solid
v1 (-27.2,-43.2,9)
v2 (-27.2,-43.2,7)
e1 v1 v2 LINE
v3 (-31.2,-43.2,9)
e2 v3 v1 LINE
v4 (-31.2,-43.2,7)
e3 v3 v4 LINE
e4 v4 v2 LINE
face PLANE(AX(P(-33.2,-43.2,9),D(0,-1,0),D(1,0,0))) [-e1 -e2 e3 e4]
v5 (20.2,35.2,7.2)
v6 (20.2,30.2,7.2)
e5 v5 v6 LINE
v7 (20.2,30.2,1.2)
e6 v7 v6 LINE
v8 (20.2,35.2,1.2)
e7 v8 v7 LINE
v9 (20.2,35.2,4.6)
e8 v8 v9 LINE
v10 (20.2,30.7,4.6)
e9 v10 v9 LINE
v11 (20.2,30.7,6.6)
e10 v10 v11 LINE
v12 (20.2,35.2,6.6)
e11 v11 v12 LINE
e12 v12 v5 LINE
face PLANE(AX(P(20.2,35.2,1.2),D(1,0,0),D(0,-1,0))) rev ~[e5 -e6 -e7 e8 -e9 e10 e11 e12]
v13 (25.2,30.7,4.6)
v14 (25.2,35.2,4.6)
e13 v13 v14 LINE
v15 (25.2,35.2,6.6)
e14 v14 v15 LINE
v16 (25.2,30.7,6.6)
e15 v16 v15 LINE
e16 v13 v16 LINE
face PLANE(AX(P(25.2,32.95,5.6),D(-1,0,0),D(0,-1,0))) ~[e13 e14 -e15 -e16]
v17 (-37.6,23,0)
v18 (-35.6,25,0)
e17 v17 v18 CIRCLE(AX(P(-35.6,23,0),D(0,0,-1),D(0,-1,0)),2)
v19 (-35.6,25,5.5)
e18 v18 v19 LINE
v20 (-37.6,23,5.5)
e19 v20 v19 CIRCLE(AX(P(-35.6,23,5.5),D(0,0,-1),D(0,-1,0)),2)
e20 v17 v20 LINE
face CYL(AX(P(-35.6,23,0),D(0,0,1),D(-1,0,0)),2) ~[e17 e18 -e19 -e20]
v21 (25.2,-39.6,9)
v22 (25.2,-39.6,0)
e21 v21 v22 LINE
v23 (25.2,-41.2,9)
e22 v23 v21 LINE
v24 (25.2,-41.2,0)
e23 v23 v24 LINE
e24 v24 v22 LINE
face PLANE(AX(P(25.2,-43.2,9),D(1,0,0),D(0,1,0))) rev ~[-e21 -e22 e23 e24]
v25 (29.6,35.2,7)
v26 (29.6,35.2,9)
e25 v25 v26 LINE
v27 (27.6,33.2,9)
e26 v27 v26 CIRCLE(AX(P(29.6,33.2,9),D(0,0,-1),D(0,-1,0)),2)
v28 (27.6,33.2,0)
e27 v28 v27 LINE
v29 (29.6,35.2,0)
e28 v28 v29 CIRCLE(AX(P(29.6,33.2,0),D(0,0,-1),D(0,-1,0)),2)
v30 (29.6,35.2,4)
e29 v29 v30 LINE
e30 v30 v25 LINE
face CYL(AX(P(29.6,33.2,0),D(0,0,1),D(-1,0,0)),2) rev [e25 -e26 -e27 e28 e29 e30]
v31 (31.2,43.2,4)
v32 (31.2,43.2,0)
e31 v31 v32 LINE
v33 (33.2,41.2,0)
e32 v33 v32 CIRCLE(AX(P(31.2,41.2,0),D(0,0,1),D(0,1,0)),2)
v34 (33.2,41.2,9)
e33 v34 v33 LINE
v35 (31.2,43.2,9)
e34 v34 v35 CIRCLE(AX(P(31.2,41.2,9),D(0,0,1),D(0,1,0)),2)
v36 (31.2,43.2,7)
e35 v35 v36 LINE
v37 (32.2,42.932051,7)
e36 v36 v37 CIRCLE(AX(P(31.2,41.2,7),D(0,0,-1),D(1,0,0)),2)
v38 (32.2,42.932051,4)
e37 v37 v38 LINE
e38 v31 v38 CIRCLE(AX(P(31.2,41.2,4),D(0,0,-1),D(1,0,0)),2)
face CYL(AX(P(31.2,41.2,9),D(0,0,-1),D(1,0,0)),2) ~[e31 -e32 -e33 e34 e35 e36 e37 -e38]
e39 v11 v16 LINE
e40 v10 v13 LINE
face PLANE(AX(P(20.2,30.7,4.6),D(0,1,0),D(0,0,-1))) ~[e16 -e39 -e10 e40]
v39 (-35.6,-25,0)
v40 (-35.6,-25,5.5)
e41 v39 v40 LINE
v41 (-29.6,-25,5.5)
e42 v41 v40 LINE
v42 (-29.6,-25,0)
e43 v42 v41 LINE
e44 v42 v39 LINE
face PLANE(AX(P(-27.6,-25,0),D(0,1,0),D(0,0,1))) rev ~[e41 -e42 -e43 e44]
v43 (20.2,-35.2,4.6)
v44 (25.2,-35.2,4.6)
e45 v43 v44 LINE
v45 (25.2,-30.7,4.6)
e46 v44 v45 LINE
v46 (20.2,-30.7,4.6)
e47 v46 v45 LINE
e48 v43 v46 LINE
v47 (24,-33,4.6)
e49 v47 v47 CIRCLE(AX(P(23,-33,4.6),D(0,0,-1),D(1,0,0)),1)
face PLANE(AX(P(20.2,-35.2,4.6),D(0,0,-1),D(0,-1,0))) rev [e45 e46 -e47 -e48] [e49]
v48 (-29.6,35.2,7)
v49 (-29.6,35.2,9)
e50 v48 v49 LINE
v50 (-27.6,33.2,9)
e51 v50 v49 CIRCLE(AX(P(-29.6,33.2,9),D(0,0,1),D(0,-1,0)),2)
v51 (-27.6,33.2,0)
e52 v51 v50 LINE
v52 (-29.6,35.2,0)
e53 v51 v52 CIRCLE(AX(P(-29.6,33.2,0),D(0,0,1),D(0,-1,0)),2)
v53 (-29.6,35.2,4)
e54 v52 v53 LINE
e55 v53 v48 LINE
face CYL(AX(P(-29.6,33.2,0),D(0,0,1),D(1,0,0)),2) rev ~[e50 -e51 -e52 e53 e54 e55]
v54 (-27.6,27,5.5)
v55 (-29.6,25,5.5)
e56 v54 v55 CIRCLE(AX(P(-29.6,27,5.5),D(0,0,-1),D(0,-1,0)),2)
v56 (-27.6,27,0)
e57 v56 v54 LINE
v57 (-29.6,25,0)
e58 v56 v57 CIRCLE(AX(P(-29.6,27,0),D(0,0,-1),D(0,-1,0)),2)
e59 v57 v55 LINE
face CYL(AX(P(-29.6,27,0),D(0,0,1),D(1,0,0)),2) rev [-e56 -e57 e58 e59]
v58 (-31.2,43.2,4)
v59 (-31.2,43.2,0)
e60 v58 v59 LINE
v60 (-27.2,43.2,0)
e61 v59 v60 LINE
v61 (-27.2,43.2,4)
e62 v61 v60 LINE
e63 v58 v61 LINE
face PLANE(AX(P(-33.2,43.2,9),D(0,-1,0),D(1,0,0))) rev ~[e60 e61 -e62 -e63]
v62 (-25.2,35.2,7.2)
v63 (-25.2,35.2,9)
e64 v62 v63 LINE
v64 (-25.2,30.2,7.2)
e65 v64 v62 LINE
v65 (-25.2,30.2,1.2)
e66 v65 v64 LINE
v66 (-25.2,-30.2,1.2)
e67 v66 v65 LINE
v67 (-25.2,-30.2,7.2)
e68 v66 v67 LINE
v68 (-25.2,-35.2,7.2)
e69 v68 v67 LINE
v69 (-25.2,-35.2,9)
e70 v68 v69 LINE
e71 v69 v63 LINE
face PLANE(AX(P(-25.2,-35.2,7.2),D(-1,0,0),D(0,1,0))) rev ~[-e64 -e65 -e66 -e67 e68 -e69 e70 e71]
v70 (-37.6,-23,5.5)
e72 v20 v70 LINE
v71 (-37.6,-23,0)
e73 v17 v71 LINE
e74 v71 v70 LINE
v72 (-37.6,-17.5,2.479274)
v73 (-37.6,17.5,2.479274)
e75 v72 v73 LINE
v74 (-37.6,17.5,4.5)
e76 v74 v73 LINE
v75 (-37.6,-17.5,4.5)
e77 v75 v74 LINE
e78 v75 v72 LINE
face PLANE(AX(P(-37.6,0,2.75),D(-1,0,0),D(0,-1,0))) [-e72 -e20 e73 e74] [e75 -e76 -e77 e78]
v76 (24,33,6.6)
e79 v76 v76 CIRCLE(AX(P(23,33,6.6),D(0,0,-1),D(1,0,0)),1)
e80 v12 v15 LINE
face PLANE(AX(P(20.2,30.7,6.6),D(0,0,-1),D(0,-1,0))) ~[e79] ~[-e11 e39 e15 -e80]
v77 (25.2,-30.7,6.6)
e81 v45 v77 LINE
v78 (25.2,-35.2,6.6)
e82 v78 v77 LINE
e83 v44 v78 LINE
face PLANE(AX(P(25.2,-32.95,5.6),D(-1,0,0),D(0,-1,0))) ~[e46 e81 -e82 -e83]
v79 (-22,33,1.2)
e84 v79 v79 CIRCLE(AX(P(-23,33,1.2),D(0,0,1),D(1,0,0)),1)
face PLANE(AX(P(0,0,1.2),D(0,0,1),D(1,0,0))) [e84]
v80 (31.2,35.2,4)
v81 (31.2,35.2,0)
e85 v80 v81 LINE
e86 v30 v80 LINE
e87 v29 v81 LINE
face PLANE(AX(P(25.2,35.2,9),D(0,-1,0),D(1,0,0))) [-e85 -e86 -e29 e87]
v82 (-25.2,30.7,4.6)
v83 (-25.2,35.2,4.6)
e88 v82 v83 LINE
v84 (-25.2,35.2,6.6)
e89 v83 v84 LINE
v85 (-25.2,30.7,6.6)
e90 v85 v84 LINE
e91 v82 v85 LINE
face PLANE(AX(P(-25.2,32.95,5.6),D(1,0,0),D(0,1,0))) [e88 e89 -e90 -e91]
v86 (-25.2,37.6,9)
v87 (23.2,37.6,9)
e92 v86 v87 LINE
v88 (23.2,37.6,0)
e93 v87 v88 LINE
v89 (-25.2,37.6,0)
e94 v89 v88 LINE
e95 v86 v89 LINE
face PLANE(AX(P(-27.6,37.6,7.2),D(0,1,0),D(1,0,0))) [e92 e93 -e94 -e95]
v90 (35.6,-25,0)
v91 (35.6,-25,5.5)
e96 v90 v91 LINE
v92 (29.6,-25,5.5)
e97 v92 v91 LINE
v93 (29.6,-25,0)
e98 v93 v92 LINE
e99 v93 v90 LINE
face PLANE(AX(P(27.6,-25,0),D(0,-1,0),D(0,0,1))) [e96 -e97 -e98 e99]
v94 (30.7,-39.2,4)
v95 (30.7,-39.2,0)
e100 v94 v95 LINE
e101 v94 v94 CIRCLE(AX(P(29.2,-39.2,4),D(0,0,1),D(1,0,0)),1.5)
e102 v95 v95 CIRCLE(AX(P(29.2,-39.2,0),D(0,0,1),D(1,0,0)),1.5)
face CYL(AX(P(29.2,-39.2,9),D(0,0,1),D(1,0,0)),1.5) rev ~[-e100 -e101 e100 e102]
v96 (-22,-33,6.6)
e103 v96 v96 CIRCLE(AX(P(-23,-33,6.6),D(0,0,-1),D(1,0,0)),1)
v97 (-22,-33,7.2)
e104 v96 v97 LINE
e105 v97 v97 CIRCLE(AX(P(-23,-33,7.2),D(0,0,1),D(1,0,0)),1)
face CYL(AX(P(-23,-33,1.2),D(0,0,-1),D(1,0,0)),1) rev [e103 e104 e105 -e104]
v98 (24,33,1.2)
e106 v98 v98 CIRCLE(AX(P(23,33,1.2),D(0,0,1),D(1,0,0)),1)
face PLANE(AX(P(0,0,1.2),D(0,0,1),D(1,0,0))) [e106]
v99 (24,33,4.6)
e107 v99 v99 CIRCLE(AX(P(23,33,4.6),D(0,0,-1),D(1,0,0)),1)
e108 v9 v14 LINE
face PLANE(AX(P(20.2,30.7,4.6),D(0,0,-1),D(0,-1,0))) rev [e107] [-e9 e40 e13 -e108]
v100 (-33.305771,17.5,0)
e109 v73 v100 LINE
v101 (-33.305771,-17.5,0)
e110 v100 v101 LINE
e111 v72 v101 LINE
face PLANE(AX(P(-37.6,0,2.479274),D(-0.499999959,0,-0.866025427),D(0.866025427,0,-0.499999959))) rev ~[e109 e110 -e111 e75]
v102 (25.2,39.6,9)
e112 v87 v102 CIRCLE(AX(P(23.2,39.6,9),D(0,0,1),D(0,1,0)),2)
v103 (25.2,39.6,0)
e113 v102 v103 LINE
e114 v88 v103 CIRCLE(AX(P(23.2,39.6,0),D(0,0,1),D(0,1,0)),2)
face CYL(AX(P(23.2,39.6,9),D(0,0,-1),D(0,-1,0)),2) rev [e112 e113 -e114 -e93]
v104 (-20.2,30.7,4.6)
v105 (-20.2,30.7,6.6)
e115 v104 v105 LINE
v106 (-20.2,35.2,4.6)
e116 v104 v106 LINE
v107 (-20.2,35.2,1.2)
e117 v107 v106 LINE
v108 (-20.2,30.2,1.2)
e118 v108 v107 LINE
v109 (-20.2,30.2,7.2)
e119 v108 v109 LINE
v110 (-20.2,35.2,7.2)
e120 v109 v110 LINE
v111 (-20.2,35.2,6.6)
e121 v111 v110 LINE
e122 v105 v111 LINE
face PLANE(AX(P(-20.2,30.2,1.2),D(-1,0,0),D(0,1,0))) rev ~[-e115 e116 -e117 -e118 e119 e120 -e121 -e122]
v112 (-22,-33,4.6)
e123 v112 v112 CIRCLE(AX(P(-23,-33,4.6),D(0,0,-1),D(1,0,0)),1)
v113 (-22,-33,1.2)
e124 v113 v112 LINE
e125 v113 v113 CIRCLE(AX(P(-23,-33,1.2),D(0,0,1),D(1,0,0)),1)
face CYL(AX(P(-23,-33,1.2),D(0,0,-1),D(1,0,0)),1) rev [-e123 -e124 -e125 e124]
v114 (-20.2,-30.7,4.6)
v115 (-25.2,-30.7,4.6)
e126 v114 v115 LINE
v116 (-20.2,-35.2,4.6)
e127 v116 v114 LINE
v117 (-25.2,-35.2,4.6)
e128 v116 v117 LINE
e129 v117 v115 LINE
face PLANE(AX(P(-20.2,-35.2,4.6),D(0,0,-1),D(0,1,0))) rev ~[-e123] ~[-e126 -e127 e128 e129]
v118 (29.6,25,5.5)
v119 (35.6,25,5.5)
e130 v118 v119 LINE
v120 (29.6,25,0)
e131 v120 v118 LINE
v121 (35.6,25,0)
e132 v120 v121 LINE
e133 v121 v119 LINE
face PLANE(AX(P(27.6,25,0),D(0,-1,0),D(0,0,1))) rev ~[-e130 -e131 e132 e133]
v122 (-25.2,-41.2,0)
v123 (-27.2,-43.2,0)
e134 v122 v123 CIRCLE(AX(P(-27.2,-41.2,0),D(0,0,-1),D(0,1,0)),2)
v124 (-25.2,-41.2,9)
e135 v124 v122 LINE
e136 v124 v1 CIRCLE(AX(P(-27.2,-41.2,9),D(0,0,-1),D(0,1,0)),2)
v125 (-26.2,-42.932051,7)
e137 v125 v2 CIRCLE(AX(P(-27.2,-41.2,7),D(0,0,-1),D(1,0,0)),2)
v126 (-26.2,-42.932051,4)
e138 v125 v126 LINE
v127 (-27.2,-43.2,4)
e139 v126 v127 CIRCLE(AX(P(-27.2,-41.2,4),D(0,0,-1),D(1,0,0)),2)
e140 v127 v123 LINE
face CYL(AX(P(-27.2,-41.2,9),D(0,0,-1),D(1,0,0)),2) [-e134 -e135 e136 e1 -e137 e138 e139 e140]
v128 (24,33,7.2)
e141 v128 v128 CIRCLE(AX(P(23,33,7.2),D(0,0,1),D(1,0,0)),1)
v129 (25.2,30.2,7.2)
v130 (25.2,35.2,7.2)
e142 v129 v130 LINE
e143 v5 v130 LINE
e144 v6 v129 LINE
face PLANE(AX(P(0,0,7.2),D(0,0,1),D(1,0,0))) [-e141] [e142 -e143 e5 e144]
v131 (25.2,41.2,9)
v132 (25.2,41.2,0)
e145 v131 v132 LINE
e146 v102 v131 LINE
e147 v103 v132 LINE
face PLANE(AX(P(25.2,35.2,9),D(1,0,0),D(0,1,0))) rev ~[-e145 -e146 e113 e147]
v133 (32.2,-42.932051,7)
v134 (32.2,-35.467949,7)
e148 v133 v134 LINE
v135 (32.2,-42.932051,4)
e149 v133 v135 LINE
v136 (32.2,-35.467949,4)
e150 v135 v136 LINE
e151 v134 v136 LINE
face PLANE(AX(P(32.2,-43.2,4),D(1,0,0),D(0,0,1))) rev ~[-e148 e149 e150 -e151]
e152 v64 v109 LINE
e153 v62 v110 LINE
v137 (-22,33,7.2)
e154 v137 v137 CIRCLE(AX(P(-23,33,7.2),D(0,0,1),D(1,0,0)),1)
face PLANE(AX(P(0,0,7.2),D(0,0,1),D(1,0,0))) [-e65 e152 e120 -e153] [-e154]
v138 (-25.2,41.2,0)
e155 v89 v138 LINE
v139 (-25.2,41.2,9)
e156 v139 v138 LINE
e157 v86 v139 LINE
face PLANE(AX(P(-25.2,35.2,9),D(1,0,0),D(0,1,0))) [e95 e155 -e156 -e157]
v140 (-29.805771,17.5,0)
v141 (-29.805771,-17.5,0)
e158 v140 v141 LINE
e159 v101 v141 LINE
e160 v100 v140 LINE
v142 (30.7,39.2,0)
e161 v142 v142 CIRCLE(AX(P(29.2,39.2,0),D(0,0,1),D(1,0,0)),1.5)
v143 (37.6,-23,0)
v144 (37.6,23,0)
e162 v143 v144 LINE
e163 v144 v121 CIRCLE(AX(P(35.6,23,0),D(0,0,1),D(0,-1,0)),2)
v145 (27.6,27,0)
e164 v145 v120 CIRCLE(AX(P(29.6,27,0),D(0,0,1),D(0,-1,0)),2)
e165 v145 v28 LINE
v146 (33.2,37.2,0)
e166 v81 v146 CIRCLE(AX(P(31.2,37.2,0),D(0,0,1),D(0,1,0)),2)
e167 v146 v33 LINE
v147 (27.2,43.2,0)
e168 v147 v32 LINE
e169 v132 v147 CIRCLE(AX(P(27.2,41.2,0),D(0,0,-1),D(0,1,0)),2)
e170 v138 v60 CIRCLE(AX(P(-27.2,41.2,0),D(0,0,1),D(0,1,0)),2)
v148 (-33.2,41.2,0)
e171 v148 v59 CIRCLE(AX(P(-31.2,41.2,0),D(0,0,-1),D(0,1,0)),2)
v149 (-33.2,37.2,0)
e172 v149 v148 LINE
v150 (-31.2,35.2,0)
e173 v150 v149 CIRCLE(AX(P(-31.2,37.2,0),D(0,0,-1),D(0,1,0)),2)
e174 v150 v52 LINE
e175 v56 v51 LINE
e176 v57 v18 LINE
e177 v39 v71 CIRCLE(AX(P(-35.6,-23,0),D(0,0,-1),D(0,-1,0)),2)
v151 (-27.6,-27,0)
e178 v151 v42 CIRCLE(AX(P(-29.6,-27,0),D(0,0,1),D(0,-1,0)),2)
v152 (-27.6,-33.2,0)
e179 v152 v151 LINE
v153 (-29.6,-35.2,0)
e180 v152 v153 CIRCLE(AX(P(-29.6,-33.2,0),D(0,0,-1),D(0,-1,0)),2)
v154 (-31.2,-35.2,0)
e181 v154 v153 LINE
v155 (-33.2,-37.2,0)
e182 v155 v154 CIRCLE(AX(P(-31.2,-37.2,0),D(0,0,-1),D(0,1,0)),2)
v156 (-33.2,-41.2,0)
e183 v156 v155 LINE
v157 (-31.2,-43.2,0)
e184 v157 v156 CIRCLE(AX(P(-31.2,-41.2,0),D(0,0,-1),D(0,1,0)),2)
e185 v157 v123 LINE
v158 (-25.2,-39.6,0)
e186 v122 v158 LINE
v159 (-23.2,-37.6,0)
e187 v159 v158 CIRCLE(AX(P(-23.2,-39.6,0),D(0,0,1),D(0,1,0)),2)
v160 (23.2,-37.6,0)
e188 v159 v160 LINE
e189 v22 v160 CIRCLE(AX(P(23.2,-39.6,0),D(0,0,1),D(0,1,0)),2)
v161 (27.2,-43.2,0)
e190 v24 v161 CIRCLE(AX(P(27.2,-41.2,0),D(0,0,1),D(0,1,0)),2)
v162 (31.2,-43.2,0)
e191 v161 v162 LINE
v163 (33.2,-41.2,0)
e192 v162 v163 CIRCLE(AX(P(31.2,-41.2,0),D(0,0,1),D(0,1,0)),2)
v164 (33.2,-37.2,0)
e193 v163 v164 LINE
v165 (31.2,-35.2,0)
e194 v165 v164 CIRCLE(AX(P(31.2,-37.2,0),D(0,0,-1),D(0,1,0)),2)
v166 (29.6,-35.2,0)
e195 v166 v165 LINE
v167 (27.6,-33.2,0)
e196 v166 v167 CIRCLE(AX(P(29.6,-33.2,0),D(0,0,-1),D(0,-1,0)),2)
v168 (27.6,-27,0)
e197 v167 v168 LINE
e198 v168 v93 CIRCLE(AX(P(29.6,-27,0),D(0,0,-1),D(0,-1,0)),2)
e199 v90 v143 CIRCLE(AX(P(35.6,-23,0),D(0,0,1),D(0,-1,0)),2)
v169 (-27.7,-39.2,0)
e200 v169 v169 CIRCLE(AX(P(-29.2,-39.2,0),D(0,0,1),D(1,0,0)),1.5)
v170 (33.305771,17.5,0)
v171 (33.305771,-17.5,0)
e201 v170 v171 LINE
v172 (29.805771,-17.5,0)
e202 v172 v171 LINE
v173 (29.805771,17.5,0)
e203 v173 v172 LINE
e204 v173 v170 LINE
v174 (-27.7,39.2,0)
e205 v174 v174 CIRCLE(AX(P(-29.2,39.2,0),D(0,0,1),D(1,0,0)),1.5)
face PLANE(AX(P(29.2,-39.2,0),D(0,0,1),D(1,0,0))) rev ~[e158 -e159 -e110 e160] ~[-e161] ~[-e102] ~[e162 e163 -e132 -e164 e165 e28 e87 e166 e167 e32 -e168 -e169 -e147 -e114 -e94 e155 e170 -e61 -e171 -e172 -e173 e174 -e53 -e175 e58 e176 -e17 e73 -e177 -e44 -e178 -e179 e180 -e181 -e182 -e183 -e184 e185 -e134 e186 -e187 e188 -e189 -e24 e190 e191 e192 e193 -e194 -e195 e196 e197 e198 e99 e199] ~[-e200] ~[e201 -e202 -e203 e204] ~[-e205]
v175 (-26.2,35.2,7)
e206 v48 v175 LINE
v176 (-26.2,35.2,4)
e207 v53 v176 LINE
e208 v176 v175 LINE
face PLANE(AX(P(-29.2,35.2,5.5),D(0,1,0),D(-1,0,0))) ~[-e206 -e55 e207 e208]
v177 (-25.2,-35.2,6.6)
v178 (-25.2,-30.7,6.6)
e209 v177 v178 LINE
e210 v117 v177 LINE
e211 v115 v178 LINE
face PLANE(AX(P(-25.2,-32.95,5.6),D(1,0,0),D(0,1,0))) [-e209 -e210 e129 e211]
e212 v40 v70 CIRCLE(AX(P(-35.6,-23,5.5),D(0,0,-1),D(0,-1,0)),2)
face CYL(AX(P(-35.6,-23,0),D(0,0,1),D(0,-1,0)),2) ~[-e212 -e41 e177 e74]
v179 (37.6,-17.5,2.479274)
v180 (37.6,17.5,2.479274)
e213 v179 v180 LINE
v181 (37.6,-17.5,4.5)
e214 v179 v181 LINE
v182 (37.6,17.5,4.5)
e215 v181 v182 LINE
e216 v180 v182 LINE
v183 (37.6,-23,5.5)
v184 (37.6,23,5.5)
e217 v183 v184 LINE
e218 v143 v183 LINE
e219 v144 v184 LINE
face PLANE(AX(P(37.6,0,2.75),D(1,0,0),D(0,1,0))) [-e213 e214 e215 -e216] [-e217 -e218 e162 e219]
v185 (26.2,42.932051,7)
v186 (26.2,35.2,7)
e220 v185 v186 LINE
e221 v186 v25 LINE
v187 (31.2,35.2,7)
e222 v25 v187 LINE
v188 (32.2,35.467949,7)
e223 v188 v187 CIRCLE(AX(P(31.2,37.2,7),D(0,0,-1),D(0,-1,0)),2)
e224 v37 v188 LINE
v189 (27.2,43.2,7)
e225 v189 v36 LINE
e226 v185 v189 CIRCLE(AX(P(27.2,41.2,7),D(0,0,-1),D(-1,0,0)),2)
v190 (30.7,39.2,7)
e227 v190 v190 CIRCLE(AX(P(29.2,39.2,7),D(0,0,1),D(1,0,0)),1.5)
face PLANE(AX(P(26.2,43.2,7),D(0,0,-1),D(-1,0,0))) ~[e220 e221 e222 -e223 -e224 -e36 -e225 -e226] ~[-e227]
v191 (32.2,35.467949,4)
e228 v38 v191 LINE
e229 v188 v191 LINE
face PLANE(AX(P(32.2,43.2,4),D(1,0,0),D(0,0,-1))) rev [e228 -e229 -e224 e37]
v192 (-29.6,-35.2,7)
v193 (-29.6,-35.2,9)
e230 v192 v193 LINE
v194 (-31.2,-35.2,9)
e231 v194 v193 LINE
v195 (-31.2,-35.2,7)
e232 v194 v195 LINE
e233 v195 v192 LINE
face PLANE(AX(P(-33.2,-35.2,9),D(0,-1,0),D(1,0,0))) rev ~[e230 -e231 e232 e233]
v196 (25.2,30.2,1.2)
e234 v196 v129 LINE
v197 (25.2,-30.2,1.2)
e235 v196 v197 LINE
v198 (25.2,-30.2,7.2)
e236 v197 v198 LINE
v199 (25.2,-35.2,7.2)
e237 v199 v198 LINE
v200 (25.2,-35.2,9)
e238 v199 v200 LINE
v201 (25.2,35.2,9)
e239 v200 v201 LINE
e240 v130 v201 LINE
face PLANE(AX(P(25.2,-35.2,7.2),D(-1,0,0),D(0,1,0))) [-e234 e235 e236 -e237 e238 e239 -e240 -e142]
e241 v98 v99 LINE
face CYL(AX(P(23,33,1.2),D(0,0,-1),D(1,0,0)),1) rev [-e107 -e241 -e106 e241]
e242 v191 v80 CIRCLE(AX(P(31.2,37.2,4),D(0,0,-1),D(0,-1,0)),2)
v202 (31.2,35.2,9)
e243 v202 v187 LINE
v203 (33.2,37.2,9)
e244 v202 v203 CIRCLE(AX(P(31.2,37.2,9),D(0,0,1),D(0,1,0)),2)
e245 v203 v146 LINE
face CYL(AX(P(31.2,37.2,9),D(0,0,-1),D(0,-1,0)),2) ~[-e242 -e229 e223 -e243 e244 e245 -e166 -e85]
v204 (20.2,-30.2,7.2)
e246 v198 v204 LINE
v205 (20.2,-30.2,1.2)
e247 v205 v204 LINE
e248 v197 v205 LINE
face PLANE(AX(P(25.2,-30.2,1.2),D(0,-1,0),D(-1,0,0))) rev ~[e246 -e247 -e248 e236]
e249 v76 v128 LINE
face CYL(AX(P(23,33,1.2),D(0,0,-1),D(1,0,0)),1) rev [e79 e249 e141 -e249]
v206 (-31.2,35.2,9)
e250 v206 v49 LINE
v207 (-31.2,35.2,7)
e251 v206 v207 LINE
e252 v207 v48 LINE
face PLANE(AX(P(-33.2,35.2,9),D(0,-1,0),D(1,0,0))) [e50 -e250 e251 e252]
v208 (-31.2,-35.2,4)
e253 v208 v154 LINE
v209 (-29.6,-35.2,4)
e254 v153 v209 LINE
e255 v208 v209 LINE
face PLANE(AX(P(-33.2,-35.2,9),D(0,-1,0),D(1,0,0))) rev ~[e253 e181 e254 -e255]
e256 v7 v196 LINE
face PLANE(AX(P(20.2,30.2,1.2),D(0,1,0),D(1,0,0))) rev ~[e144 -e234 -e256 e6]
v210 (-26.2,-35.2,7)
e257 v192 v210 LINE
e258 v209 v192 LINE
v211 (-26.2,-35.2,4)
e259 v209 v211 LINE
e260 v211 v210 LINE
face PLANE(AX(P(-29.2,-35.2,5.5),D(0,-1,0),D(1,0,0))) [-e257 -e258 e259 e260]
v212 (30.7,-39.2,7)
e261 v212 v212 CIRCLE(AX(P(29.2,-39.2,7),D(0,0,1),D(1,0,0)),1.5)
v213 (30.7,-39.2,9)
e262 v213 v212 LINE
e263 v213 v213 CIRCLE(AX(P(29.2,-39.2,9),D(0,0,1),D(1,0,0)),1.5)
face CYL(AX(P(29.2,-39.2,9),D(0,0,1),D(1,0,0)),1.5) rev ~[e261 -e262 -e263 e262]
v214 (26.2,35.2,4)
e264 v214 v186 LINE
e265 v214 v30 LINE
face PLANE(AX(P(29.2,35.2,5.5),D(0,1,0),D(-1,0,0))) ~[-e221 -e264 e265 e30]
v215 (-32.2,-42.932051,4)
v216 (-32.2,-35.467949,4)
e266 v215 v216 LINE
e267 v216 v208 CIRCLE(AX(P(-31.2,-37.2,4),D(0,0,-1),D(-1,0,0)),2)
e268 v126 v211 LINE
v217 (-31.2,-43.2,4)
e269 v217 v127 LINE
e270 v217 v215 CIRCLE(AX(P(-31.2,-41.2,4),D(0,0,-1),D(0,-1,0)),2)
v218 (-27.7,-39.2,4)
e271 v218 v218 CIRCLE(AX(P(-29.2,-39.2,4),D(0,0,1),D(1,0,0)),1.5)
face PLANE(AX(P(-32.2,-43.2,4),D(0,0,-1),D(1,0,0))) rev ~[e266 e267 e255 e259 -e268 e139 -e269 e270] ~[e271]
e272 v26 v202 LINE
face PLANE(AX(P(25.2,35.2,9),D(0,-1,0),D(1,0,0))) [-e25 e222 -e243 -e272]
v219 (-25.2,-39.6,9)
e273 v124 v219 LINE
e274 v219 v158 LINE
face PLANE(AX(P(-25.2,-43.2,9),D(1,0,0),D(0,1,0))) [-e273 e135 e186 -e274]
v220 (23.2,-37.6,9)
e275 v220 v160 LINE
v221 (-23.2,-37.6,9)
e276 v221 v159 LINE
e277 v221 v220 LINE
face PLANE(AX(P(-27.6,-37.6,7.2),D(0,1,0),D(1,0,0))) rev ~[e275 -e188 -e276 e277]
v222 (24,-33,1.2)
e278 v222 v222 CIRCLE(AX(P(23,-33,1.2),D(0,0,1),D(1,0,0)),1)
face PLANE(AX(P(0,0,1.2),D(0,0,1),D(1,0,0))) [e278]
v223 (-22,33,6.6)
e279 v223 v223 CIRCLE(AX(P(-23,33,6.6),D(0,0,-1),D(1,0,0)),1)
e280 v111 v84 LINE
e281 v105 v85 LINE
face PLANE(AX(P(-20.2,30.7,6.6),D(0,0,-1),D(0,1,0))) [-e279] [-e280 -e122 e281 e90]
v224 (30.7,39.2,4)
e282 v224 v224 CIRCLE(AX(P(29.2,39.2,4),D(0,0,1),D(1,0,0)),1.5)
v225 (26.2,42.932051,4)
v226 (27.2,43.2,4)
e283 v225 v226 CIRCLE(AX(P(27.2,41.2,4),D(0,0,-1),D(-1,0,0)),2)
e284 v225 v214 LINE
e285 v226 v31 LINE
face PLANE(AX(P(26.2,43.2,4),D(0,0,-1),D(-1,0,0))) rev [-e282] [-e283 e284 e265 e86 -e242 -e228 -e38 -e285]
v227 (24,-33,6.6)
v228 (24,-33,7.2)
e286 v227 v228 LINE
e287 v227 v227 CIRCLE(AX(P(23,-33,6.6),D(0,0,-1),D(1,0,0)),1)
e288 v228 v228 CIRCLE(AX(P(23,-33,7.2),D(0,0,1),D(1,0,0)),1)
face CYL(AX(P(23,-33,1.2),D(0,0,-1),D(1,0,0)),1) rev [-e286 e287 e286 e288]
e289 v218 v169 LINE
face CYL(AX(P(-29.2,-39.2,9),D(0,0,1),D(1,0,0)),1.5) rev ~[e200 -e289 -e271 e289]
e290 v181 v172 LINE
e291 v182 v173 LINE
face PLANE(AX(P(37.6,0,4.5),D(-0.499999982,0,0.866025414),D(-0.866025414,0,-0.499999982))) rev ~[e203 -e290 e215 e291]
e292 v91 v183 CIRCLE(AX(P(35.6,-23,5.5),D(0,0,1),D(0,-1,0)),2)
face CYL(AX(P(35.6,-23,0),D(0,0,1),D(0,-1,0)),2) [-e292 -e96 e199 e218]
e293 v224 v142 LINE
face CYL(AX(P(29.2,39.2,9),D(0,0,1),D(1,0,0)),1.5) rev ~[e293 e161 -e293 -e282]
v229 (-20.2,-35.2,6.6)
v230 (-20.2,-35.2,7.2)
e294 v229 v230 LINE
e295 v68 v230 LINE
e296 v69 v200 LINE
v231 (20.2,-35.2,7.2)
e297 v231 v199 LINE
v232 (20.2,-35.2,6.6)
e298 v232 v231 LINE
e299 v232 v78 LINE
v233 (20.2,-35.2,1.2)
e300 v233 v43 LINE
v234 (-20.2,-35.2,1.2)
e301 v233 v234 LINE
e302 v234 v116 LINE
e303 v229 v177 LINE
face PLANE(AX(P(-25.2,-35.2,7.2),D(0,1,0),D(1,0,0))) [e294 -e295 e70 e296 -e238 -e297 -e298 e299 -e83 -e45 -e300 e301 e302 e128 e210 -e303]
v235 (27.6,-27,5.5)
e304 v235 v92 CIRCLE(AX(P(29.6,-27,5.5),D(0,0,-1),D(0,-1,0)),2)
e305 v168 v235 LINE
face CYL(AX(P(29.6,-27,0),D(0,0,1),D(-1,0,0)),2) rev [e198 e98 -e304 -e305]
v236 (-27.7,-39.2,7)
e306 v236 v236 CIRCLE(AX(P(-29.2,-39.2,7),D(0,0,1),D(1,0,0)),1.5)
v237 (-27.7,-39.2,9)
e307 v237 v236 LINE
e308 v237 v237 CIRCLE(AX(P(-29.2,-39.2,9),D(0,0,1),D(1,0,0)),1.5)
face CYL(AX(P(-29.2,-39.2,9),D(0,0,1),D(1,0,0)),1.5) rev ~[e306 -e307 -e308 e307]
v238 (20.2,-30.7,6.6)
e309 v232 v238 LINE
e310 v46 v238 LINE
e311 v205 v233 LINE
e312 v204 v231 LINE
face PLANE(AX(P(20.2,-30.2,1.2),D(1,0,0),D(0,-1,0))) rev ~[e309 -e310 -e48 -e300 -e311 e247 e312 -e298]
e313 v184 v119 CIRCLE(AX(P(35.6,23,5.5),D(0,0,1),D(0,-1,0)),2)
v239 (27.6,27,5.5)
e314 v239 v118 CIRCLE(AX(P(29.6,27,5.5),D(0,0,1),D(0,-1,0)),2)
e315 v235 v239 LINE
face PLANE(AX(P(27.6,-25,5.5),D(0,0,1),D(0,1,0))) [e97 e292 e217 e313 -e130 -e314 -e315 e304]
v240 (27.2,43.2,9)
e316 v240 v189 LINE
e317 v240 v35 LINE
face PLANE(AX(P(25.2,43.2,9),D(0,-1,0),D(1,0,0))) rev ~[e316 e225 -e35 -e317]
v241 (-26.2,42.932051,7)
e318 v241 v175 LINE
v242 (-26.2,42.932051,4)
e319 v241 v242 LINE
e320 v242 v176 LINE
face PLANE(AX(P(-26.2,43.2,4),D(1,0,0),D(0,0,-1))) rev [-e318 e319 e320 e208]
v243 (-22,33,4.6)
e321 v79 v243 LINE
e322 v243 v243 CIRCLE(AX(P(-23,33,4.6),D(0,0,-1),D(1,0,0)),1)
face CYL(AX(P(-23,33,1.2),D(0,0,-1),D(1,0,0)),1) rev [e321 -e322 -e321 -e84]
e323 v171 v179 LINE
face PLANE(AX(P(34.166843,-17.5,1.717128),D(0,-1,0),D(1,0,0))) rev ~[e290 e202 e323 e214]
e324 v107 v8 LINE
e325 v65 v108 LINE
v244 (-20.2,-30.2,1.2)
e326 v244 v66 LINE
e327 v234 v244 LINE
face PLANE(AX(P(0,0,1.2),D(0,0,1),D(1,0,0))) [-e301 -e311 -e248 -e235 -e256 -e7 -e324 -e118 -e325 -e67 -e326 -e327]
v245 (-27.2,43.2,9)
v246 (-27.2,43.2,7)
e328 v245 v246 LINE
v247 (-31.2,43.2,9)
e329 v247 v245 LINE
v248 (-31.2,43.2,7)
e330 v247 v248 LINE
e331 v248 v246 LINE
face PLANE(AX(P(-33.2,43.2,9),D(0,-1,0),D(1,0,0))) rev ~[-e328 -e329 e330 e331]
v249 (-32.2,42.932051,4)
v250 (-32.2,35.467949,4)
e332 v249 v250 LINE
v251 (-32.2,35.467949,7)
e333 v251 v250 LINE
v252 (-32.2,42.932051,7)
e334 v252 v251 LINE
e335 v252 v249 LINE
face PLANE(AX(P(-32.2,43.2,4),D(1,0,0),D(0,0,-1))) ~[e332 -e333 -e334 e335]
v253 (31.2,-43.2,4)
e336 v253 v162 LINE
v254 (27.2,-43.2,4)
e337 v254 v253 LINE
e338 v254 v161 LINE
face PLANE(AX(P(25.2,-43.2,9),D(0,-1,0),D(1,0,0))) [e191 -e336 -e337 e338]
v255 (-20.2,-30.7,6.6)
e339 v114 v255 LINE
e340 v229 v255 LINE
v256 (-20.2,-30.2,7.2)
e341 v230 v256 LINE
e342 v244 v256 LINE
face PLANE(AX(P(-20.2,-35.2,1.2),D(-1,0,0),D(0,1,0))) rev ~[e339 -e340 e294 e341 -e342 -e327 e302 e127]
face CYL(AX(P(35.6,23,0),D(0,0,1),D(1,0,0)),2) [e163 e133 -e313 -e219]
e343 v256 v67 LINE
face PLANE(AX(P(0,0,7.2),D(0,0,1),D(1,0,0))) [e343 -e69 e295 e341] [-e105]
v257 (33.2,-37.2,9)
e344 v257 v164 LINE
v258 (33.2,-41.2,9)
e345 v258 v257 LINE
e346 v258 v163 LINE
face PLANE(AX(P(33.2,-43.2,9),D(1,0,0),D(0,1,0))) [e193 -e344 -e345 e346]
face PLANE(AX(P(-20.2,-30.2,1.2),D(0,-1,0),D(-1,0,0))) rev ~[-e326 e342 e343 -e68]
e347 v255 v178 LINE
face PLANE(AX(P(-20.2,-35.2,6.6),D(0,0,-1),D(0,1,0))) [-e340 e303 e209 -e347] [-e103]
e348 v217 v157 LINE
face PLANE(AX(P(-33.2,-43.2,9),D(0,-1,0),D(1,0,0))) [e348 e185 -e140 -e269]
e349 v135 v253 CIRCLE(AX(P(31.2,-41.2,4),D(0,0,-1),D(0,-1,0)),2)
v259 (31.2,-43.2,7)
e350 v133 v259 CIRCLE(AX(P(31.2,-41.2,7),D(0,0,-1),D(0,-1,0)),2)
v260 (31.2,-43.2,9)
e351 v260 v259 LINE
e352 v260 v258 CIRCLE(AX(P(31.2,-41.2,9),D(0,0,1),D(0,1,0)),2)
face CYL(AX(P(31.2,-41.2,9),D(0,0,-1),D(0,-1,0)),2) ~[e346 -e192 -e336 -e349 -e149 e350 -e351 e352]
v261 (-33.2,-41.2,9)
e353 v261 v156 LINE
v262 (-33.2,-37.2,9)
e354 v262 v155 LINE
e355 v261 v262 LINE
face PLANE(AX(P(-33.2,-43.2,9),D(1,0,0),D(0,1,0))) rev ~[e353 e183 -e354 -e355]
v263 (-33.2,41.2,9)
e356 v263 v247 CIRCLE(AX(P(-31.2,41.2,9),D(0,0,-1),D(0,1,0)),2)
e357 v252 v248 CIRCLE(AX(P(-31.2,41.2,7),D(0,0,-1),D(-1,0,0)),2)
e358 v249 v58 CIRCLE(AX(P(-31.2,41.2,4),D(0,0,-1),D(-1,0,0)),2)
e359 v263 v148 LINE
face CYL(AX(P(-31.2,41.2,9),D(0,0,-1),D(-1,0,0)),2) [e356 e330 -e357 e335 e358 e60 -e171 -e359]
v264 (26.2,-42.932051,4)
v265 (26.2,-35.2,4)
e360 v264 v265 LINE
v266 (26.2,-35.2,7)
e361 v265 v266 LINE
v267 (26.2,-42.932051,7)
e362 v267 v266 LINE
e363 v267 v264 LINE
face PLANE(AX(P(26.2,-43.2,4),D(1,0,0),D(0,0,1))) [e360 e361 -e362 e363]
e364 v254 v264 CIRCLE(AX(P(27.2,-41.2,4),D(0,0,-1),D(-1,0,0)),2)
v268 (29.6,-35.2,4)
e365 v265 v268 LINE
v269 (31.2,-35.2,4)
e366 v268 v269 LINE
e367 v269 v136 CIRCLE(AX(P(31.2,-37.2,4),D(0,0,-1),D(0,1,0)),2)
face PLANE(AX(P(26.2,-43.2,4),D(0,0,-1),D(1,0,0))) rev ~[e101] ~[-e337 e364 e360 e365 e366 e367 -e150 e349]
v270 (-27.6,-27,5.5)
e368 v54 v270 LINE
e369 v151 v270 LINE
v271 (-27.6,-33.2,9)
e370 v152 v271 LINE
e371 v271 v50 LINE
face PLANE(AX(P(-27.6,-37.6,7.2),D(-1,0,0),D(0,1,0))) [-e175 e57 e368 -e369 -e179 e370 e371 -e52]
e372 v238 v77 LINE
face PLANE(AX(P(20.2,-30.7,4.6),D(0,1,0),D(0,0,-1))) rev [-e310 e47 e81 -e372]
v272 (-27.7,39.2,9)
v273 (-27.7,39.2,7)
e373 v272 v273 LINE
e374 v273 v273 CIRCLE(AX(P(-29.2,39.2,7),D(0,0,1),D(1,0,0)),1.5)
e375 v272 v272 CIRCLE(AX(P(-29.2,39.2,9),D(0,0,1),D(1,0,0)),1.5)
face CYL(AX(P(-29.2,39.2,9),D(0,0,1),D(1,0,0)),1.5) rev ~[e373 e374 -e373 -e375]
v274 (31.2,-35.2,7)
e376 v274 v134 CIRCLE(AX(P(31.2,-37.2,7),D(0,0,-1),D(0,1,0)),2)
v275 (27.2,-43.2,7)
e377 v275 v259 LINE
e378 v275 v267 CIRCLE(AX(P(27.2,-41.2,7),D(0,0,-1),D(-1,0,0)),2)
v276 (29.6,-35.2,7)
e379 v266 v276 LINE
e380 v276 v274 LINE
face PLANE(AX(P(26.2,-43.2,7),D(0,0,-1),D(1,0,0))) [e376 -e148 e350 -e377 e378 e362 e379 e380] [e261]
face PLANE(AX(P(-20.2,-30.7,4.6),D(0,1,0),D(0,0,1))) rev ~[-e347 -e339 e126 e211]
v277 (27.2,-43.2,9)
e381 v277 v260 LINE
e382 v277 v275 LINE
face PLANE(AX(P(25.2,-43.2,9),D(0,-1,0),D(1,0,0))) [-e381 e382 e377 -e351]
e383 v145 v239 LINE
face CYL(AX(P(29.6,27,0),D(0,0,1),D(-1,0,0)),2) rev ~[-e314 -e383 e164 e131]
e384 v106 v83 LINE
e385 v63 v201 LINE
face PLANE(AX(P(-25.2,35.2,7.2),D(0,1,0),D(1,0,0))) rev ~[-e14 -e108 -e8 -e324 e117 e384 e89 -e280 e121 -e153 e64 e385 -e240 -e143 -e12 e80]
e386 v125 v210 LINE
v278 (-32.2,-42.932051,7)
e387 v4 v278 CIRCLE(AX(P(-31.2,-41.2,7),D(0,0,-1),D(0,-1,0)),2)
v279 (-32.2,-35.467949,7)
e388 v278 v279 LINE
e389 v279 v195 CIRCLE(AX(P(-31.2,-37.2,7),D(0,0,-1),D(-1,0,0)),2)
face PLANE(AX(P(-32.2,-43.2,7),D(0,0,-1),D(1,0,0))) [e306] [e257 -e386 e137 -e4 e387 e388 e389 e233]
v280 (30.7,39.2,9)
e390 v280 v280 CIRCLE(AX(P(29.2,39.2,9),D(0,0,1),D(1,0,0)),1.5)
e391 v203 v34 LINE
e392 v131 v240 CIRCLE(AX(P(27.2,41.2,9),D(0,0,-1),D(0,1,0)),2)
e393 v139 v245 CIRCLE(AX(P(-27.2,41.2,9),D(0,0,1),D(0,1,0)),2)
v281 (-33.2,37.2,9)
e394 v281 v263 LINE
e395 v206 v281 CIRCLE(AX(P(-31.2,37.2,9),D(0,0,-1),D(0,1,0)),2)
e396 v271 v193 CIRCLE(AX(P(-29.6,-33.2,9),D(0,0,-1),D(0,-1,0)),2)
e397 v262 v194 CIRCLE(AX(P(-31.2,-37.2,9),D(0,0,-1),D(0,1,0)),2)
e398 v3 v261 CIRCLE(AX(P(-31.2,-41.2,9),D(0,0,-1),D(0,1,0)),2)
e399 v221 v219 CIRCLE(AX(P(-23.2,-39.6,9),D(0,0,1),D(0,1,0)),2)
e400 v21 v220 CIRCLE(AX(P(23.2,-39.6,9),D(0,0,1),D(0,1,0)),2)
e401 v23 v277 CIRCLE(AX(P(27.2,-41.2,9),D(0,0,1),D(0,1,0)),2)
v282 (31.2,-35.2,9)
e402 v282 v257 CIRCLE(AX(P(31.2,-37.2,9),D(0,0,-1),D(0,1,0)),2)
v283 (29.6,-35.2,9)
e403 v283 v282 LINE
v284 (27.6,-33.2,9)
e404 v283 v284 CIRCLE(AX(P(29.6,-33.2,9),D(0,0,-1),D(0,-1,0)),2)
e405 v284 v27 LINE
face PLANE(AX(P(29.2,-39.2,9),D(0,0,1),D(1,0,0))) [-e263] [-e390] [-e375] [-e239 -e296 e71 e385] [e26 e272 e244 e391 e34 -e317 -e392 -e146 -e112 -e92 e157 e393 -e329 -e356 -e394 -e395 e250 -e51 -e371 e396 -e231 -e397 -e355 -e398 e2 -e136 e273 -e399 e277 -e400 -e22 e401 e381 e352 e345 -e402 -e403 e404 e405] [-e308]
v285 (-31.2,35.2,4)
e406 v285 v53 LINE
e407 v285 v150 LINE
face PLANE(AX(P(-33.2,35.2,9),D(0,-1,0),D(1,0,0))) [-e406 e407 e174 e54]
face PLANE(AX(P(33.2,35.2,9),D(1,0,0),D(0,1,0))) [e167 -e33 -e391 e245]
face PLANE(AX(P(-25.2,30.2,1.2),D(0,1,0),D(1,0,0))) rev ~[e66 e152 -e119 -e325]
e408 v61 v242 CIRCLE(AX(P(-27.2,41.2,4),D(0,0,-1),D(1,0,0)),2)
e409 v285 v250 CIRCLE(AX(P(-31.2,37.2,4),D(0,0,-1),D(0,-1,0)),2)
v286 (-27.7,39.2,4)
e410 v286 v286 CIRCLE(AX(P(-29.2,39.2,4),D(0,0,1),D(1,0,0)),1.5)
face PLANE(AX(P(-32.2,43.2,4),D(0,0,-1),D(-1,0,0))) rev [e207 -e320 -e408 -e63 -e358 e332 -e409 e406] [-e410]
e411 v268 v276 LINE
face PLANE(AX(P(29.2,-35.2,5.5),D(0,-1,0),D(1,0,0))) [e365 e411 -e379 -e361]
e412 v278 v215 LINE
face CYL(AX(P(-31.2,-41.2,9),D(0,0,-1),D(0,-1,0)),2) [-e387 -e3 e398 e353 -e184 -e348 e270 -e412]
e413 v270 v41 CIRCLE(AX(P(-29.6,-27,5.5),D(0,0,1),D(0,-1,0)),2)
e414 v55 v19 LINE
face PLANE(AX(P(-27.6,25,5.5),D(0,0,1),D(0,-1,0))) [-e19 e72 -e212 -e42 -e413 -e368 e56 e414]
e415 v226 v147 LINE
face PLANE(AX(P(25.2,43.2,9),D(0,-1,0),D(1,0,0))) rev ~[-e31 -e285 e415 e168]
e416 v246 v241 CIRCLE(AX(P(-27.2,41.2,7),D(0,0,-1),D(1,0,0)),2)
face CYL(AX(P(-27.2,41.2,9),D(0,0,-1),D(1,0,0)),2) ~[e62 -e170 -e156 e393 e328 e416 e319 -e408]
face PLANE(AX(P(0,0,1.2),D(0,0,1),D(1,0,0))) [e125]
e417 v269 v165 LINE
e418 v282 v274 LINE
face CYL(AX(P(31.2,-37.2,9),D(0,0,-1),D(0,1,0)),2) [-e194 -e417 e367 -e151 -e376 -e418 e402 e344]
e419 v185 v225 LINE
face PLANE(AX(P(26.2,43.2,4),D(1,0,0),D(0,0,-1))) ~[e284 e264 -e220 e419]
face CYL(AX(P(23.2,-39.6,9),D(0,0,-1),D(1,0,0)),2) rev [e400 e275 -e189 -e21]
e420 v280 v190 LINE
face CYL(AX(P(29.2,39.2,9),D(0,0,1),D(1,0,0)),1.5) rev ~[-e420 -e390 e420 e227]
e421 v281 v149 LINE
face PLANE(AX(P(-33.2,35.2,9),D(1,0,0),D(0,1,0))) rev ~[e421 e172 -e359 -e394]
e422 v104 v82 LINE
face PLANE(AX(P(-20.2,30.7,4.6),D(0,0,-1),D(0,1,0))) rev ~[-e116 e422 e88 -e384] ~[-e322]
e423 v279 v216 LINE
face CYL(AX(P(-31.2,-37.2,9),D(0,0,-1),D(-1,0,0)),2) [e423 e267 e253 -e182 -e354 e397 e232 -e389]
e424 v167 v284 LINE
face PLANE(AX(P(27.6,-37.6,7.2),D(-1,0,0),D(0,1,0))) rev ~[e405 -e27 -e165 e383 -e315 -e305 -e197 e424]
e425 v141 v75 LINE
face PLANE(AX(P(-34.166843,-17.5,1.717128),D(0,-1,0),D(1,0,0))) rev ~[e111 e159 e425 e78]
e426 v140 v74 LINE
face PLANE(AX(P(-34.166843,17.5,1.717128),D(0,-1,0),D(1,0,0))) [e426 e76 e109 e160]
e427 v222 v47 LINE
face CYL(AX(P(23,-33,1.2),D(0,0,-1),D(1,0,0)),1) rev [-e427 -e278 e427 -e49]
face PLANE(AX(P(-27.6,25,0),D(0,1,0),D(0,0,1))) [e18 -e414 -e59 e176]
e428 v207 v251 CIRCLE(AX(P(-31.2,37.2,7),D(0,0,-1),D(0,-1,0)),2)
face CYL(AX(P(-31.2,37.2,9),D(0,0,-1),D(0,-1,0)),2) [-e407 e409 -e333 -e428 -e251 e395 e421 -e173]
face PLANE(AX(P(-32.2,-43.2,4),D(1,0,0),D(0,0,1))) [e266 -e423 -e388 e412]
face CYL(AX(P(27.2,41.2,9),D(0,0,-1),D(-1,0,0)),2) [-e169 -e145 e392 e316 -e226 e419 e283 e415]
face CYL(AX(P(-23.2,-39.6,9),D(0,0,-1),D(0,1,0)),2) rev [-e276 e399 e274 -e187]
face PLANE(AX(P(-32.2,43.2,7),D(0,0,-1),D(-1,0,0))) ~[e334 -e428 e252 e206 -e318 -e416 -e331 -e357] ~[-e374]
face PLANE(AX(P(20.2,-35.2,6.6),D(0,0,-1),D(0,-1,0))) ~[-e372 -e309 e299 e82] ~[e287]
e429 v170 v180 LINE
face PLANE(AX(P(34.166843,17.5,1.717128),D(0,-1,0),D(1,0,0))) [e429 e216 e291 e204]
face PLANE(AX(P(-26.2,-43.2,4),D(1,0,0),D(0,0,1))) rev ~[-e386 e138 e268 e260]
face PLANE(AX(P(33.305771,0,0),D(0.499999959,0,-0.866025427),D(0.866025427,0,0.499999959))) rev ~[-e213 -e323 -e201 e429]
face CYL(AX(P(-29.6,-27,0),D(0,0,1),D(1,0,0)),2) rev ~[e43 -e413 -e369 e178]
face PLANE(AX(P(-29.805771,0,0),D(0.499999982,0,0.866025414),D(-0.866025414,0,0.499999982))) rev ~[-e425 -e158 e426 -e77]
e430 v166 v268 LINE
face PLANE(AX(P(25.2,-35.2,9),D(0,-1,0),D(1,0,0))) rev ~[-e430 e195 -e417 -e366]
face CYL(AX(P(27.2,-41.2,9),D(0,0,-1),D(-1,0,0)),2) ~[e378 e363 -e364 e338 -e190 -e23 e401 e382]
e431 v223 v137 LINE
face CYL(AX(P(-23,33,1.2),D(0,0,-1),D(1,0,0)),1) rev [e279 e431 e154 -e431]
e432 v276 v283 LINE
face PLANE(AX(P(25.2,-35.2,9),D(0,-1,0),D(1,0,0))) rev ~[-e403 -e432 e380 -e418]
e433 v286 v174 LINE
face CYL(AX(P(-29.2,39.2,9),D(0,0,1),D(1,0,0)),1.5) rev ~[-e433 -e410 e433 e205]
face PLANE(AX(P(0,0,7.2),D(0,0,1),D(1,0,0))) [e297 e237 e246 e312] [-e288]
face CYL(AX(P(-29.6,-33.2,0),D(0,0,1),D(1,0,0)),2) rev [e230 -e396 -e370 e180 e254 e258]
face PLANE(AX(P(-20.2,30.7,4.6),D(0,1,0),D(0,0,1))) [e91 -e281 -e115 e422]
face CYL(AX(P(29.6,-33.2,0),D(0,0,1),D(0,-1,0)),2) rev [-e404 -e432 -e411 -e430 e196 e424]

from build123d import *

# Parameters (mm, degrees)
SKETCH_W        = 55.2
SKETCH_H        = 75.2
PAD_DEPTH       = 1.2
SKETCH001_W     = 55.2
SKETCH001_H     = 75.2
SKETCH001_R     = 1
PAD001_DEPTH    = 6
SKETCH002_W     = 55.2
SKETCH002_H     = 75.2
SKETCH002_W_2   = 50.4
SKETCH002_H_2   = 70.4
PAD002_DEPTH    = 1.8
SKETCH003_W     = 8
SKETCH003_H     = 8
PAD003_DEPTH    = 9
FILLET_R        = 2
SKETCH004_W     = 4.5
SKETCH004_H     = 2
POCKET_DEPTH    = 5
SKETCH006_R     = 1.5
POCKET001_DEPTH = 9.001
SKETCH007_W     = 6
SKETCH007_H     = 3
POCKET002_DEPTH = 8
SKETCH008_W     = 50
SKETCH008_H     = 5.5
PAD004_DEPTH    = 10
POCKET003_DEPTH = 17.5
FILLET001_R     = 2
SKETCH010_W     = 50
SKETCH010_H     = 5.5
PAD005_DEPTH    = 10
POCKET004_DEPTH = 17.5
FILLET002_R     = 2


with BuildPart() as part:
    # Sketch → Pad (new body)
    with BuildSketch(Plane.XY):
        Rectangle(SKETCH_W, SKETCH_H)
    extrude(amount=PAD_DEPTH)

    # Sketch001 (on Face6 of Pad) → Pad001 (join)
    with BuildSketch(Plane.XY.offset(1.2)):
        Rectangle(SKETCH001_W, SKETCH001_H)
        with Locations((-23, 33)):
            Circle(SKETCH001_R, mode=Mode.SUBTRACT)
        with Locations((23, 33)):
            Circle(SKETCH001_R, mode=Mode.SUBTRACT)
        with Locations((23, -33)):
            Circle(SKETCH001_R, mode=Mode.SUBTRACT)
        with Locations((-23, -33)):
            Circle(SKETCH001_R, mode=Mode.SUBTRACT)
        Polygon((-25.2, -30.2), (-25.2, 30.2), (-20.2, 30.2), (-20.2, 35.2), (20.2, 35.2), (20.2, 30.2), (25.2, 30.2), (25.2, -30.2), (20.2, -30.2), (20.2, -35.2), (-20.2, -35.2), (-20.2, -30.2), align=None, mode=Mode.SUBTRACT)
    extrude(amount=PAD001_DEPTH)

    # Sketch002 (on Face9 of Pad001) → Pad002 (join)
    with BuildSketch(Plane.XY.offset(7.2)):
        Rectangle(SKETCH002_W, SKETCH002_H)
        Rectangle(SKETCH002_W_2, SKETCH002_H_2, mode=Mode.SUBTRACT)
    extrude(amount=PAD002_DEPTH)

    # Sketch003 (on Face13 of Pad002) → Pad003 (join)
    with BuildSketch(Plane.XY.offset(9)):
        with Locations((29.2, -39.2)):
            Rectangle(SKETCH003_W, SKETCH003_H)
        with Locations((-29.2, -39.2)):
            Rectangle(SKETCH003_W, SKETCH003_H)
        with Locations((-29.2, 39.2)):
            Rectangle(SKETCH003_W, SKETCH003_H)
        with Locations((29.2, 39.2)):
            Rectangle(SKETCH003_W, SKETCH003_H)
    extrude(amount=-PAD003_DEPTH)

    # Fillet
    fillet_edges = [part.edges().sort_by_distance(p)[0] for p in [
        (25.2, -37.6, 4.2),
        (25.2, -37.6, 8.1),
        (25.2, -37.6, 0.6),
        (-33.2, 43.2, 4.5),
        (-25.2, 43.2, 4.5),
        (-33.2, 35.2, 4.5),
        (25.2, 37.6, 8.1),
        (25.2, 37.6, 4.2),
        (25.2, 37.6, 0.6),
        (25.2, 43.2, 4.5),
        (33.2, 43.2, 4.5),
        (33.2, 35.2, 4.5),
        (27.6, 35.2, 8.1),
        (27.6, 35.2, 4.2),
        (33.2, -35.2, 4.5),
        (27.6, -35.2, 4.2),
        (27.6, -35.2, 8.1),
        (27.6, -35.2, 0.6),
        (33.2, -43.2, 4.5),
        (25.2, -43.2, 4.5),
        (-25.2, -37.6, 8.1),
        (-25.2, -37.6, 4.2),
        (-25.2, -37.6, 0.6),
        (-25.2, -43.2, 4.5),
        (-33.2, -43.2, 4.5),
        (-33.2, -35.2, 4.5),
        (-27.6, -35.2, 4.2),
        (-27.6, -35.2, 8.1),
        (-27.6, -35.2, 0.6),
        (-27.6, 35.2, 8.1),
        (-27.6, 35.2, 4.2),
        (-27.6, 35.2, 0.6),
    ]]
    fillet(fillet_edges, radius=FILLET_R)

    # Sketch004 (on Face94 of Fillet) → Pocket (cut)
    with BuildSketch(Plane.YZ.offset(-20.2)):
        with Locations((32.95, 5.6)):
            Rectangle(SKETCH004_W, SKETCH004_H)
        with Locations((-32.95, 5.6)):
            Rectangle(SKETCH004_W, SKETCH004_H)
    pocket = extrude(amount=-POCKET_DEPTH, mode=Mode.SUBTRACT)

    # Mirrored: Pocket across YZ
    add(pocket.mirror(Plane.YZ), mode=Mode.SUBTRACT)

    # Sketch006 (on Face66 of Mirrored) → Pocket001 (cut, through all)
    with BuildSketch(Plane.XY.offset(9)):
        with Locations((-29.2, 39.2)):
            Circle(SKETCH006_R)
        with Locations((29.2, 39.2)):
            Circle(SKETCH006_R)
        with Locations((29.2, -39.2)):
            Circle(SKETCH006_R)
        with Locations((-29.2, -39.2)):
            Circle(SKETCH006_R)
    extrude(amount=-POCKET001_DEPTH, mode=Mode.SUBTRACT)

    # Sketch007 (on Face55 of Pocket001) → Pocket002 (cut)
    with BuildSketch(Plane.XZ.offset(43.2)):
        with Locations((-29.2, 5.5)):
            Rectangle(SKETCH007_W, SKETCH007_H)
        with Locations((29.2, 5.5)):
            Rectangle(SKETCH007_W, SKETCH007_H)
    pocket002 = extrude(amount=-POCKET002_DEPTH, mode=Mode.SUBTRACT)

    # Mirrored001: Pocket002 across XZ
    add(pocket002.mirror(Plane.XZ), mode=Mode.SUBTRACT)

    # Sketch008 (on Face45 of Mirrored001) → Pad004 (join)
    with BuildSketch(Plane(origin=(-27.6, 0, 0), x_dir=(0, -1, 0), z_dir=(-1, 0, 0))):
        with Locations((0, 2.75)):
            Rectangle(SKETCH008_W, SKETCH008_H)
    extrude(amount=PAD004_DEPTH)

    # Sketch009 → Pocket003 (cut, symmetric)
    with BuildSketch(Plane.XZ):
        Polygon((-37.6, 2.479274), (-33.305771, 0), (-29.805771, 0), (-37.6, 4.5), align=None)
    extrude(amount=POCKET003_DEPTH, both=True, mode=Mode.SUBTRACT)

    # Fillet001
    fillet001_edges = [part.edges().sort_by_distance(p)[0] for p in [
        (-27.6, 25, 3.35),
        (-27.6, 25, 0.6),
        (-27.6, -25, 3.35),
        (-27.6, -25, 0.6),
        (-37.6, -25, 2.75),
        (-37.6, 25, 2.75),
    ]]
    fillet(fillet001_edges, radius=FILLET001_R)

    # Sketch010 (on Face66 of Fillet001) → Pad005 (join)
    with BuildSketch(Plane.YZ.offset(27.6)):
        with Locations((0, 2.75)):
            Rectangle(SKETCH010_W, SKETCH010_H)
    extrude(amount=PAD005_DEPTH)

    # Sketch011 → Pocket004 (cut, symmetric)
    with BuildSketch(Plane.XZ):
        Polygon((37.6, 4.5), (29.805771, 0), (33.305771, 0), (37.6, 2.479274), align=None)
    extrude(amount=POCKET004_DEPTH, both=True, mode=Mode.SUBTRACT)

    # Fillet002
    fillet002_edges = [part.edges().sort_by_distance(p)[0] for p in [
        (37.6, 25, 2.75),
        (27.6, 25, 3.35),
        (27.6, 25, 0.6),
        (27.6, -25, 3.35),
        (27.6, -25, 0.6),
        (37.6, -25, 2.75),
    ]]
    fillet(fillet002_edges, radius=FILLET002_R)


solid = part.part
